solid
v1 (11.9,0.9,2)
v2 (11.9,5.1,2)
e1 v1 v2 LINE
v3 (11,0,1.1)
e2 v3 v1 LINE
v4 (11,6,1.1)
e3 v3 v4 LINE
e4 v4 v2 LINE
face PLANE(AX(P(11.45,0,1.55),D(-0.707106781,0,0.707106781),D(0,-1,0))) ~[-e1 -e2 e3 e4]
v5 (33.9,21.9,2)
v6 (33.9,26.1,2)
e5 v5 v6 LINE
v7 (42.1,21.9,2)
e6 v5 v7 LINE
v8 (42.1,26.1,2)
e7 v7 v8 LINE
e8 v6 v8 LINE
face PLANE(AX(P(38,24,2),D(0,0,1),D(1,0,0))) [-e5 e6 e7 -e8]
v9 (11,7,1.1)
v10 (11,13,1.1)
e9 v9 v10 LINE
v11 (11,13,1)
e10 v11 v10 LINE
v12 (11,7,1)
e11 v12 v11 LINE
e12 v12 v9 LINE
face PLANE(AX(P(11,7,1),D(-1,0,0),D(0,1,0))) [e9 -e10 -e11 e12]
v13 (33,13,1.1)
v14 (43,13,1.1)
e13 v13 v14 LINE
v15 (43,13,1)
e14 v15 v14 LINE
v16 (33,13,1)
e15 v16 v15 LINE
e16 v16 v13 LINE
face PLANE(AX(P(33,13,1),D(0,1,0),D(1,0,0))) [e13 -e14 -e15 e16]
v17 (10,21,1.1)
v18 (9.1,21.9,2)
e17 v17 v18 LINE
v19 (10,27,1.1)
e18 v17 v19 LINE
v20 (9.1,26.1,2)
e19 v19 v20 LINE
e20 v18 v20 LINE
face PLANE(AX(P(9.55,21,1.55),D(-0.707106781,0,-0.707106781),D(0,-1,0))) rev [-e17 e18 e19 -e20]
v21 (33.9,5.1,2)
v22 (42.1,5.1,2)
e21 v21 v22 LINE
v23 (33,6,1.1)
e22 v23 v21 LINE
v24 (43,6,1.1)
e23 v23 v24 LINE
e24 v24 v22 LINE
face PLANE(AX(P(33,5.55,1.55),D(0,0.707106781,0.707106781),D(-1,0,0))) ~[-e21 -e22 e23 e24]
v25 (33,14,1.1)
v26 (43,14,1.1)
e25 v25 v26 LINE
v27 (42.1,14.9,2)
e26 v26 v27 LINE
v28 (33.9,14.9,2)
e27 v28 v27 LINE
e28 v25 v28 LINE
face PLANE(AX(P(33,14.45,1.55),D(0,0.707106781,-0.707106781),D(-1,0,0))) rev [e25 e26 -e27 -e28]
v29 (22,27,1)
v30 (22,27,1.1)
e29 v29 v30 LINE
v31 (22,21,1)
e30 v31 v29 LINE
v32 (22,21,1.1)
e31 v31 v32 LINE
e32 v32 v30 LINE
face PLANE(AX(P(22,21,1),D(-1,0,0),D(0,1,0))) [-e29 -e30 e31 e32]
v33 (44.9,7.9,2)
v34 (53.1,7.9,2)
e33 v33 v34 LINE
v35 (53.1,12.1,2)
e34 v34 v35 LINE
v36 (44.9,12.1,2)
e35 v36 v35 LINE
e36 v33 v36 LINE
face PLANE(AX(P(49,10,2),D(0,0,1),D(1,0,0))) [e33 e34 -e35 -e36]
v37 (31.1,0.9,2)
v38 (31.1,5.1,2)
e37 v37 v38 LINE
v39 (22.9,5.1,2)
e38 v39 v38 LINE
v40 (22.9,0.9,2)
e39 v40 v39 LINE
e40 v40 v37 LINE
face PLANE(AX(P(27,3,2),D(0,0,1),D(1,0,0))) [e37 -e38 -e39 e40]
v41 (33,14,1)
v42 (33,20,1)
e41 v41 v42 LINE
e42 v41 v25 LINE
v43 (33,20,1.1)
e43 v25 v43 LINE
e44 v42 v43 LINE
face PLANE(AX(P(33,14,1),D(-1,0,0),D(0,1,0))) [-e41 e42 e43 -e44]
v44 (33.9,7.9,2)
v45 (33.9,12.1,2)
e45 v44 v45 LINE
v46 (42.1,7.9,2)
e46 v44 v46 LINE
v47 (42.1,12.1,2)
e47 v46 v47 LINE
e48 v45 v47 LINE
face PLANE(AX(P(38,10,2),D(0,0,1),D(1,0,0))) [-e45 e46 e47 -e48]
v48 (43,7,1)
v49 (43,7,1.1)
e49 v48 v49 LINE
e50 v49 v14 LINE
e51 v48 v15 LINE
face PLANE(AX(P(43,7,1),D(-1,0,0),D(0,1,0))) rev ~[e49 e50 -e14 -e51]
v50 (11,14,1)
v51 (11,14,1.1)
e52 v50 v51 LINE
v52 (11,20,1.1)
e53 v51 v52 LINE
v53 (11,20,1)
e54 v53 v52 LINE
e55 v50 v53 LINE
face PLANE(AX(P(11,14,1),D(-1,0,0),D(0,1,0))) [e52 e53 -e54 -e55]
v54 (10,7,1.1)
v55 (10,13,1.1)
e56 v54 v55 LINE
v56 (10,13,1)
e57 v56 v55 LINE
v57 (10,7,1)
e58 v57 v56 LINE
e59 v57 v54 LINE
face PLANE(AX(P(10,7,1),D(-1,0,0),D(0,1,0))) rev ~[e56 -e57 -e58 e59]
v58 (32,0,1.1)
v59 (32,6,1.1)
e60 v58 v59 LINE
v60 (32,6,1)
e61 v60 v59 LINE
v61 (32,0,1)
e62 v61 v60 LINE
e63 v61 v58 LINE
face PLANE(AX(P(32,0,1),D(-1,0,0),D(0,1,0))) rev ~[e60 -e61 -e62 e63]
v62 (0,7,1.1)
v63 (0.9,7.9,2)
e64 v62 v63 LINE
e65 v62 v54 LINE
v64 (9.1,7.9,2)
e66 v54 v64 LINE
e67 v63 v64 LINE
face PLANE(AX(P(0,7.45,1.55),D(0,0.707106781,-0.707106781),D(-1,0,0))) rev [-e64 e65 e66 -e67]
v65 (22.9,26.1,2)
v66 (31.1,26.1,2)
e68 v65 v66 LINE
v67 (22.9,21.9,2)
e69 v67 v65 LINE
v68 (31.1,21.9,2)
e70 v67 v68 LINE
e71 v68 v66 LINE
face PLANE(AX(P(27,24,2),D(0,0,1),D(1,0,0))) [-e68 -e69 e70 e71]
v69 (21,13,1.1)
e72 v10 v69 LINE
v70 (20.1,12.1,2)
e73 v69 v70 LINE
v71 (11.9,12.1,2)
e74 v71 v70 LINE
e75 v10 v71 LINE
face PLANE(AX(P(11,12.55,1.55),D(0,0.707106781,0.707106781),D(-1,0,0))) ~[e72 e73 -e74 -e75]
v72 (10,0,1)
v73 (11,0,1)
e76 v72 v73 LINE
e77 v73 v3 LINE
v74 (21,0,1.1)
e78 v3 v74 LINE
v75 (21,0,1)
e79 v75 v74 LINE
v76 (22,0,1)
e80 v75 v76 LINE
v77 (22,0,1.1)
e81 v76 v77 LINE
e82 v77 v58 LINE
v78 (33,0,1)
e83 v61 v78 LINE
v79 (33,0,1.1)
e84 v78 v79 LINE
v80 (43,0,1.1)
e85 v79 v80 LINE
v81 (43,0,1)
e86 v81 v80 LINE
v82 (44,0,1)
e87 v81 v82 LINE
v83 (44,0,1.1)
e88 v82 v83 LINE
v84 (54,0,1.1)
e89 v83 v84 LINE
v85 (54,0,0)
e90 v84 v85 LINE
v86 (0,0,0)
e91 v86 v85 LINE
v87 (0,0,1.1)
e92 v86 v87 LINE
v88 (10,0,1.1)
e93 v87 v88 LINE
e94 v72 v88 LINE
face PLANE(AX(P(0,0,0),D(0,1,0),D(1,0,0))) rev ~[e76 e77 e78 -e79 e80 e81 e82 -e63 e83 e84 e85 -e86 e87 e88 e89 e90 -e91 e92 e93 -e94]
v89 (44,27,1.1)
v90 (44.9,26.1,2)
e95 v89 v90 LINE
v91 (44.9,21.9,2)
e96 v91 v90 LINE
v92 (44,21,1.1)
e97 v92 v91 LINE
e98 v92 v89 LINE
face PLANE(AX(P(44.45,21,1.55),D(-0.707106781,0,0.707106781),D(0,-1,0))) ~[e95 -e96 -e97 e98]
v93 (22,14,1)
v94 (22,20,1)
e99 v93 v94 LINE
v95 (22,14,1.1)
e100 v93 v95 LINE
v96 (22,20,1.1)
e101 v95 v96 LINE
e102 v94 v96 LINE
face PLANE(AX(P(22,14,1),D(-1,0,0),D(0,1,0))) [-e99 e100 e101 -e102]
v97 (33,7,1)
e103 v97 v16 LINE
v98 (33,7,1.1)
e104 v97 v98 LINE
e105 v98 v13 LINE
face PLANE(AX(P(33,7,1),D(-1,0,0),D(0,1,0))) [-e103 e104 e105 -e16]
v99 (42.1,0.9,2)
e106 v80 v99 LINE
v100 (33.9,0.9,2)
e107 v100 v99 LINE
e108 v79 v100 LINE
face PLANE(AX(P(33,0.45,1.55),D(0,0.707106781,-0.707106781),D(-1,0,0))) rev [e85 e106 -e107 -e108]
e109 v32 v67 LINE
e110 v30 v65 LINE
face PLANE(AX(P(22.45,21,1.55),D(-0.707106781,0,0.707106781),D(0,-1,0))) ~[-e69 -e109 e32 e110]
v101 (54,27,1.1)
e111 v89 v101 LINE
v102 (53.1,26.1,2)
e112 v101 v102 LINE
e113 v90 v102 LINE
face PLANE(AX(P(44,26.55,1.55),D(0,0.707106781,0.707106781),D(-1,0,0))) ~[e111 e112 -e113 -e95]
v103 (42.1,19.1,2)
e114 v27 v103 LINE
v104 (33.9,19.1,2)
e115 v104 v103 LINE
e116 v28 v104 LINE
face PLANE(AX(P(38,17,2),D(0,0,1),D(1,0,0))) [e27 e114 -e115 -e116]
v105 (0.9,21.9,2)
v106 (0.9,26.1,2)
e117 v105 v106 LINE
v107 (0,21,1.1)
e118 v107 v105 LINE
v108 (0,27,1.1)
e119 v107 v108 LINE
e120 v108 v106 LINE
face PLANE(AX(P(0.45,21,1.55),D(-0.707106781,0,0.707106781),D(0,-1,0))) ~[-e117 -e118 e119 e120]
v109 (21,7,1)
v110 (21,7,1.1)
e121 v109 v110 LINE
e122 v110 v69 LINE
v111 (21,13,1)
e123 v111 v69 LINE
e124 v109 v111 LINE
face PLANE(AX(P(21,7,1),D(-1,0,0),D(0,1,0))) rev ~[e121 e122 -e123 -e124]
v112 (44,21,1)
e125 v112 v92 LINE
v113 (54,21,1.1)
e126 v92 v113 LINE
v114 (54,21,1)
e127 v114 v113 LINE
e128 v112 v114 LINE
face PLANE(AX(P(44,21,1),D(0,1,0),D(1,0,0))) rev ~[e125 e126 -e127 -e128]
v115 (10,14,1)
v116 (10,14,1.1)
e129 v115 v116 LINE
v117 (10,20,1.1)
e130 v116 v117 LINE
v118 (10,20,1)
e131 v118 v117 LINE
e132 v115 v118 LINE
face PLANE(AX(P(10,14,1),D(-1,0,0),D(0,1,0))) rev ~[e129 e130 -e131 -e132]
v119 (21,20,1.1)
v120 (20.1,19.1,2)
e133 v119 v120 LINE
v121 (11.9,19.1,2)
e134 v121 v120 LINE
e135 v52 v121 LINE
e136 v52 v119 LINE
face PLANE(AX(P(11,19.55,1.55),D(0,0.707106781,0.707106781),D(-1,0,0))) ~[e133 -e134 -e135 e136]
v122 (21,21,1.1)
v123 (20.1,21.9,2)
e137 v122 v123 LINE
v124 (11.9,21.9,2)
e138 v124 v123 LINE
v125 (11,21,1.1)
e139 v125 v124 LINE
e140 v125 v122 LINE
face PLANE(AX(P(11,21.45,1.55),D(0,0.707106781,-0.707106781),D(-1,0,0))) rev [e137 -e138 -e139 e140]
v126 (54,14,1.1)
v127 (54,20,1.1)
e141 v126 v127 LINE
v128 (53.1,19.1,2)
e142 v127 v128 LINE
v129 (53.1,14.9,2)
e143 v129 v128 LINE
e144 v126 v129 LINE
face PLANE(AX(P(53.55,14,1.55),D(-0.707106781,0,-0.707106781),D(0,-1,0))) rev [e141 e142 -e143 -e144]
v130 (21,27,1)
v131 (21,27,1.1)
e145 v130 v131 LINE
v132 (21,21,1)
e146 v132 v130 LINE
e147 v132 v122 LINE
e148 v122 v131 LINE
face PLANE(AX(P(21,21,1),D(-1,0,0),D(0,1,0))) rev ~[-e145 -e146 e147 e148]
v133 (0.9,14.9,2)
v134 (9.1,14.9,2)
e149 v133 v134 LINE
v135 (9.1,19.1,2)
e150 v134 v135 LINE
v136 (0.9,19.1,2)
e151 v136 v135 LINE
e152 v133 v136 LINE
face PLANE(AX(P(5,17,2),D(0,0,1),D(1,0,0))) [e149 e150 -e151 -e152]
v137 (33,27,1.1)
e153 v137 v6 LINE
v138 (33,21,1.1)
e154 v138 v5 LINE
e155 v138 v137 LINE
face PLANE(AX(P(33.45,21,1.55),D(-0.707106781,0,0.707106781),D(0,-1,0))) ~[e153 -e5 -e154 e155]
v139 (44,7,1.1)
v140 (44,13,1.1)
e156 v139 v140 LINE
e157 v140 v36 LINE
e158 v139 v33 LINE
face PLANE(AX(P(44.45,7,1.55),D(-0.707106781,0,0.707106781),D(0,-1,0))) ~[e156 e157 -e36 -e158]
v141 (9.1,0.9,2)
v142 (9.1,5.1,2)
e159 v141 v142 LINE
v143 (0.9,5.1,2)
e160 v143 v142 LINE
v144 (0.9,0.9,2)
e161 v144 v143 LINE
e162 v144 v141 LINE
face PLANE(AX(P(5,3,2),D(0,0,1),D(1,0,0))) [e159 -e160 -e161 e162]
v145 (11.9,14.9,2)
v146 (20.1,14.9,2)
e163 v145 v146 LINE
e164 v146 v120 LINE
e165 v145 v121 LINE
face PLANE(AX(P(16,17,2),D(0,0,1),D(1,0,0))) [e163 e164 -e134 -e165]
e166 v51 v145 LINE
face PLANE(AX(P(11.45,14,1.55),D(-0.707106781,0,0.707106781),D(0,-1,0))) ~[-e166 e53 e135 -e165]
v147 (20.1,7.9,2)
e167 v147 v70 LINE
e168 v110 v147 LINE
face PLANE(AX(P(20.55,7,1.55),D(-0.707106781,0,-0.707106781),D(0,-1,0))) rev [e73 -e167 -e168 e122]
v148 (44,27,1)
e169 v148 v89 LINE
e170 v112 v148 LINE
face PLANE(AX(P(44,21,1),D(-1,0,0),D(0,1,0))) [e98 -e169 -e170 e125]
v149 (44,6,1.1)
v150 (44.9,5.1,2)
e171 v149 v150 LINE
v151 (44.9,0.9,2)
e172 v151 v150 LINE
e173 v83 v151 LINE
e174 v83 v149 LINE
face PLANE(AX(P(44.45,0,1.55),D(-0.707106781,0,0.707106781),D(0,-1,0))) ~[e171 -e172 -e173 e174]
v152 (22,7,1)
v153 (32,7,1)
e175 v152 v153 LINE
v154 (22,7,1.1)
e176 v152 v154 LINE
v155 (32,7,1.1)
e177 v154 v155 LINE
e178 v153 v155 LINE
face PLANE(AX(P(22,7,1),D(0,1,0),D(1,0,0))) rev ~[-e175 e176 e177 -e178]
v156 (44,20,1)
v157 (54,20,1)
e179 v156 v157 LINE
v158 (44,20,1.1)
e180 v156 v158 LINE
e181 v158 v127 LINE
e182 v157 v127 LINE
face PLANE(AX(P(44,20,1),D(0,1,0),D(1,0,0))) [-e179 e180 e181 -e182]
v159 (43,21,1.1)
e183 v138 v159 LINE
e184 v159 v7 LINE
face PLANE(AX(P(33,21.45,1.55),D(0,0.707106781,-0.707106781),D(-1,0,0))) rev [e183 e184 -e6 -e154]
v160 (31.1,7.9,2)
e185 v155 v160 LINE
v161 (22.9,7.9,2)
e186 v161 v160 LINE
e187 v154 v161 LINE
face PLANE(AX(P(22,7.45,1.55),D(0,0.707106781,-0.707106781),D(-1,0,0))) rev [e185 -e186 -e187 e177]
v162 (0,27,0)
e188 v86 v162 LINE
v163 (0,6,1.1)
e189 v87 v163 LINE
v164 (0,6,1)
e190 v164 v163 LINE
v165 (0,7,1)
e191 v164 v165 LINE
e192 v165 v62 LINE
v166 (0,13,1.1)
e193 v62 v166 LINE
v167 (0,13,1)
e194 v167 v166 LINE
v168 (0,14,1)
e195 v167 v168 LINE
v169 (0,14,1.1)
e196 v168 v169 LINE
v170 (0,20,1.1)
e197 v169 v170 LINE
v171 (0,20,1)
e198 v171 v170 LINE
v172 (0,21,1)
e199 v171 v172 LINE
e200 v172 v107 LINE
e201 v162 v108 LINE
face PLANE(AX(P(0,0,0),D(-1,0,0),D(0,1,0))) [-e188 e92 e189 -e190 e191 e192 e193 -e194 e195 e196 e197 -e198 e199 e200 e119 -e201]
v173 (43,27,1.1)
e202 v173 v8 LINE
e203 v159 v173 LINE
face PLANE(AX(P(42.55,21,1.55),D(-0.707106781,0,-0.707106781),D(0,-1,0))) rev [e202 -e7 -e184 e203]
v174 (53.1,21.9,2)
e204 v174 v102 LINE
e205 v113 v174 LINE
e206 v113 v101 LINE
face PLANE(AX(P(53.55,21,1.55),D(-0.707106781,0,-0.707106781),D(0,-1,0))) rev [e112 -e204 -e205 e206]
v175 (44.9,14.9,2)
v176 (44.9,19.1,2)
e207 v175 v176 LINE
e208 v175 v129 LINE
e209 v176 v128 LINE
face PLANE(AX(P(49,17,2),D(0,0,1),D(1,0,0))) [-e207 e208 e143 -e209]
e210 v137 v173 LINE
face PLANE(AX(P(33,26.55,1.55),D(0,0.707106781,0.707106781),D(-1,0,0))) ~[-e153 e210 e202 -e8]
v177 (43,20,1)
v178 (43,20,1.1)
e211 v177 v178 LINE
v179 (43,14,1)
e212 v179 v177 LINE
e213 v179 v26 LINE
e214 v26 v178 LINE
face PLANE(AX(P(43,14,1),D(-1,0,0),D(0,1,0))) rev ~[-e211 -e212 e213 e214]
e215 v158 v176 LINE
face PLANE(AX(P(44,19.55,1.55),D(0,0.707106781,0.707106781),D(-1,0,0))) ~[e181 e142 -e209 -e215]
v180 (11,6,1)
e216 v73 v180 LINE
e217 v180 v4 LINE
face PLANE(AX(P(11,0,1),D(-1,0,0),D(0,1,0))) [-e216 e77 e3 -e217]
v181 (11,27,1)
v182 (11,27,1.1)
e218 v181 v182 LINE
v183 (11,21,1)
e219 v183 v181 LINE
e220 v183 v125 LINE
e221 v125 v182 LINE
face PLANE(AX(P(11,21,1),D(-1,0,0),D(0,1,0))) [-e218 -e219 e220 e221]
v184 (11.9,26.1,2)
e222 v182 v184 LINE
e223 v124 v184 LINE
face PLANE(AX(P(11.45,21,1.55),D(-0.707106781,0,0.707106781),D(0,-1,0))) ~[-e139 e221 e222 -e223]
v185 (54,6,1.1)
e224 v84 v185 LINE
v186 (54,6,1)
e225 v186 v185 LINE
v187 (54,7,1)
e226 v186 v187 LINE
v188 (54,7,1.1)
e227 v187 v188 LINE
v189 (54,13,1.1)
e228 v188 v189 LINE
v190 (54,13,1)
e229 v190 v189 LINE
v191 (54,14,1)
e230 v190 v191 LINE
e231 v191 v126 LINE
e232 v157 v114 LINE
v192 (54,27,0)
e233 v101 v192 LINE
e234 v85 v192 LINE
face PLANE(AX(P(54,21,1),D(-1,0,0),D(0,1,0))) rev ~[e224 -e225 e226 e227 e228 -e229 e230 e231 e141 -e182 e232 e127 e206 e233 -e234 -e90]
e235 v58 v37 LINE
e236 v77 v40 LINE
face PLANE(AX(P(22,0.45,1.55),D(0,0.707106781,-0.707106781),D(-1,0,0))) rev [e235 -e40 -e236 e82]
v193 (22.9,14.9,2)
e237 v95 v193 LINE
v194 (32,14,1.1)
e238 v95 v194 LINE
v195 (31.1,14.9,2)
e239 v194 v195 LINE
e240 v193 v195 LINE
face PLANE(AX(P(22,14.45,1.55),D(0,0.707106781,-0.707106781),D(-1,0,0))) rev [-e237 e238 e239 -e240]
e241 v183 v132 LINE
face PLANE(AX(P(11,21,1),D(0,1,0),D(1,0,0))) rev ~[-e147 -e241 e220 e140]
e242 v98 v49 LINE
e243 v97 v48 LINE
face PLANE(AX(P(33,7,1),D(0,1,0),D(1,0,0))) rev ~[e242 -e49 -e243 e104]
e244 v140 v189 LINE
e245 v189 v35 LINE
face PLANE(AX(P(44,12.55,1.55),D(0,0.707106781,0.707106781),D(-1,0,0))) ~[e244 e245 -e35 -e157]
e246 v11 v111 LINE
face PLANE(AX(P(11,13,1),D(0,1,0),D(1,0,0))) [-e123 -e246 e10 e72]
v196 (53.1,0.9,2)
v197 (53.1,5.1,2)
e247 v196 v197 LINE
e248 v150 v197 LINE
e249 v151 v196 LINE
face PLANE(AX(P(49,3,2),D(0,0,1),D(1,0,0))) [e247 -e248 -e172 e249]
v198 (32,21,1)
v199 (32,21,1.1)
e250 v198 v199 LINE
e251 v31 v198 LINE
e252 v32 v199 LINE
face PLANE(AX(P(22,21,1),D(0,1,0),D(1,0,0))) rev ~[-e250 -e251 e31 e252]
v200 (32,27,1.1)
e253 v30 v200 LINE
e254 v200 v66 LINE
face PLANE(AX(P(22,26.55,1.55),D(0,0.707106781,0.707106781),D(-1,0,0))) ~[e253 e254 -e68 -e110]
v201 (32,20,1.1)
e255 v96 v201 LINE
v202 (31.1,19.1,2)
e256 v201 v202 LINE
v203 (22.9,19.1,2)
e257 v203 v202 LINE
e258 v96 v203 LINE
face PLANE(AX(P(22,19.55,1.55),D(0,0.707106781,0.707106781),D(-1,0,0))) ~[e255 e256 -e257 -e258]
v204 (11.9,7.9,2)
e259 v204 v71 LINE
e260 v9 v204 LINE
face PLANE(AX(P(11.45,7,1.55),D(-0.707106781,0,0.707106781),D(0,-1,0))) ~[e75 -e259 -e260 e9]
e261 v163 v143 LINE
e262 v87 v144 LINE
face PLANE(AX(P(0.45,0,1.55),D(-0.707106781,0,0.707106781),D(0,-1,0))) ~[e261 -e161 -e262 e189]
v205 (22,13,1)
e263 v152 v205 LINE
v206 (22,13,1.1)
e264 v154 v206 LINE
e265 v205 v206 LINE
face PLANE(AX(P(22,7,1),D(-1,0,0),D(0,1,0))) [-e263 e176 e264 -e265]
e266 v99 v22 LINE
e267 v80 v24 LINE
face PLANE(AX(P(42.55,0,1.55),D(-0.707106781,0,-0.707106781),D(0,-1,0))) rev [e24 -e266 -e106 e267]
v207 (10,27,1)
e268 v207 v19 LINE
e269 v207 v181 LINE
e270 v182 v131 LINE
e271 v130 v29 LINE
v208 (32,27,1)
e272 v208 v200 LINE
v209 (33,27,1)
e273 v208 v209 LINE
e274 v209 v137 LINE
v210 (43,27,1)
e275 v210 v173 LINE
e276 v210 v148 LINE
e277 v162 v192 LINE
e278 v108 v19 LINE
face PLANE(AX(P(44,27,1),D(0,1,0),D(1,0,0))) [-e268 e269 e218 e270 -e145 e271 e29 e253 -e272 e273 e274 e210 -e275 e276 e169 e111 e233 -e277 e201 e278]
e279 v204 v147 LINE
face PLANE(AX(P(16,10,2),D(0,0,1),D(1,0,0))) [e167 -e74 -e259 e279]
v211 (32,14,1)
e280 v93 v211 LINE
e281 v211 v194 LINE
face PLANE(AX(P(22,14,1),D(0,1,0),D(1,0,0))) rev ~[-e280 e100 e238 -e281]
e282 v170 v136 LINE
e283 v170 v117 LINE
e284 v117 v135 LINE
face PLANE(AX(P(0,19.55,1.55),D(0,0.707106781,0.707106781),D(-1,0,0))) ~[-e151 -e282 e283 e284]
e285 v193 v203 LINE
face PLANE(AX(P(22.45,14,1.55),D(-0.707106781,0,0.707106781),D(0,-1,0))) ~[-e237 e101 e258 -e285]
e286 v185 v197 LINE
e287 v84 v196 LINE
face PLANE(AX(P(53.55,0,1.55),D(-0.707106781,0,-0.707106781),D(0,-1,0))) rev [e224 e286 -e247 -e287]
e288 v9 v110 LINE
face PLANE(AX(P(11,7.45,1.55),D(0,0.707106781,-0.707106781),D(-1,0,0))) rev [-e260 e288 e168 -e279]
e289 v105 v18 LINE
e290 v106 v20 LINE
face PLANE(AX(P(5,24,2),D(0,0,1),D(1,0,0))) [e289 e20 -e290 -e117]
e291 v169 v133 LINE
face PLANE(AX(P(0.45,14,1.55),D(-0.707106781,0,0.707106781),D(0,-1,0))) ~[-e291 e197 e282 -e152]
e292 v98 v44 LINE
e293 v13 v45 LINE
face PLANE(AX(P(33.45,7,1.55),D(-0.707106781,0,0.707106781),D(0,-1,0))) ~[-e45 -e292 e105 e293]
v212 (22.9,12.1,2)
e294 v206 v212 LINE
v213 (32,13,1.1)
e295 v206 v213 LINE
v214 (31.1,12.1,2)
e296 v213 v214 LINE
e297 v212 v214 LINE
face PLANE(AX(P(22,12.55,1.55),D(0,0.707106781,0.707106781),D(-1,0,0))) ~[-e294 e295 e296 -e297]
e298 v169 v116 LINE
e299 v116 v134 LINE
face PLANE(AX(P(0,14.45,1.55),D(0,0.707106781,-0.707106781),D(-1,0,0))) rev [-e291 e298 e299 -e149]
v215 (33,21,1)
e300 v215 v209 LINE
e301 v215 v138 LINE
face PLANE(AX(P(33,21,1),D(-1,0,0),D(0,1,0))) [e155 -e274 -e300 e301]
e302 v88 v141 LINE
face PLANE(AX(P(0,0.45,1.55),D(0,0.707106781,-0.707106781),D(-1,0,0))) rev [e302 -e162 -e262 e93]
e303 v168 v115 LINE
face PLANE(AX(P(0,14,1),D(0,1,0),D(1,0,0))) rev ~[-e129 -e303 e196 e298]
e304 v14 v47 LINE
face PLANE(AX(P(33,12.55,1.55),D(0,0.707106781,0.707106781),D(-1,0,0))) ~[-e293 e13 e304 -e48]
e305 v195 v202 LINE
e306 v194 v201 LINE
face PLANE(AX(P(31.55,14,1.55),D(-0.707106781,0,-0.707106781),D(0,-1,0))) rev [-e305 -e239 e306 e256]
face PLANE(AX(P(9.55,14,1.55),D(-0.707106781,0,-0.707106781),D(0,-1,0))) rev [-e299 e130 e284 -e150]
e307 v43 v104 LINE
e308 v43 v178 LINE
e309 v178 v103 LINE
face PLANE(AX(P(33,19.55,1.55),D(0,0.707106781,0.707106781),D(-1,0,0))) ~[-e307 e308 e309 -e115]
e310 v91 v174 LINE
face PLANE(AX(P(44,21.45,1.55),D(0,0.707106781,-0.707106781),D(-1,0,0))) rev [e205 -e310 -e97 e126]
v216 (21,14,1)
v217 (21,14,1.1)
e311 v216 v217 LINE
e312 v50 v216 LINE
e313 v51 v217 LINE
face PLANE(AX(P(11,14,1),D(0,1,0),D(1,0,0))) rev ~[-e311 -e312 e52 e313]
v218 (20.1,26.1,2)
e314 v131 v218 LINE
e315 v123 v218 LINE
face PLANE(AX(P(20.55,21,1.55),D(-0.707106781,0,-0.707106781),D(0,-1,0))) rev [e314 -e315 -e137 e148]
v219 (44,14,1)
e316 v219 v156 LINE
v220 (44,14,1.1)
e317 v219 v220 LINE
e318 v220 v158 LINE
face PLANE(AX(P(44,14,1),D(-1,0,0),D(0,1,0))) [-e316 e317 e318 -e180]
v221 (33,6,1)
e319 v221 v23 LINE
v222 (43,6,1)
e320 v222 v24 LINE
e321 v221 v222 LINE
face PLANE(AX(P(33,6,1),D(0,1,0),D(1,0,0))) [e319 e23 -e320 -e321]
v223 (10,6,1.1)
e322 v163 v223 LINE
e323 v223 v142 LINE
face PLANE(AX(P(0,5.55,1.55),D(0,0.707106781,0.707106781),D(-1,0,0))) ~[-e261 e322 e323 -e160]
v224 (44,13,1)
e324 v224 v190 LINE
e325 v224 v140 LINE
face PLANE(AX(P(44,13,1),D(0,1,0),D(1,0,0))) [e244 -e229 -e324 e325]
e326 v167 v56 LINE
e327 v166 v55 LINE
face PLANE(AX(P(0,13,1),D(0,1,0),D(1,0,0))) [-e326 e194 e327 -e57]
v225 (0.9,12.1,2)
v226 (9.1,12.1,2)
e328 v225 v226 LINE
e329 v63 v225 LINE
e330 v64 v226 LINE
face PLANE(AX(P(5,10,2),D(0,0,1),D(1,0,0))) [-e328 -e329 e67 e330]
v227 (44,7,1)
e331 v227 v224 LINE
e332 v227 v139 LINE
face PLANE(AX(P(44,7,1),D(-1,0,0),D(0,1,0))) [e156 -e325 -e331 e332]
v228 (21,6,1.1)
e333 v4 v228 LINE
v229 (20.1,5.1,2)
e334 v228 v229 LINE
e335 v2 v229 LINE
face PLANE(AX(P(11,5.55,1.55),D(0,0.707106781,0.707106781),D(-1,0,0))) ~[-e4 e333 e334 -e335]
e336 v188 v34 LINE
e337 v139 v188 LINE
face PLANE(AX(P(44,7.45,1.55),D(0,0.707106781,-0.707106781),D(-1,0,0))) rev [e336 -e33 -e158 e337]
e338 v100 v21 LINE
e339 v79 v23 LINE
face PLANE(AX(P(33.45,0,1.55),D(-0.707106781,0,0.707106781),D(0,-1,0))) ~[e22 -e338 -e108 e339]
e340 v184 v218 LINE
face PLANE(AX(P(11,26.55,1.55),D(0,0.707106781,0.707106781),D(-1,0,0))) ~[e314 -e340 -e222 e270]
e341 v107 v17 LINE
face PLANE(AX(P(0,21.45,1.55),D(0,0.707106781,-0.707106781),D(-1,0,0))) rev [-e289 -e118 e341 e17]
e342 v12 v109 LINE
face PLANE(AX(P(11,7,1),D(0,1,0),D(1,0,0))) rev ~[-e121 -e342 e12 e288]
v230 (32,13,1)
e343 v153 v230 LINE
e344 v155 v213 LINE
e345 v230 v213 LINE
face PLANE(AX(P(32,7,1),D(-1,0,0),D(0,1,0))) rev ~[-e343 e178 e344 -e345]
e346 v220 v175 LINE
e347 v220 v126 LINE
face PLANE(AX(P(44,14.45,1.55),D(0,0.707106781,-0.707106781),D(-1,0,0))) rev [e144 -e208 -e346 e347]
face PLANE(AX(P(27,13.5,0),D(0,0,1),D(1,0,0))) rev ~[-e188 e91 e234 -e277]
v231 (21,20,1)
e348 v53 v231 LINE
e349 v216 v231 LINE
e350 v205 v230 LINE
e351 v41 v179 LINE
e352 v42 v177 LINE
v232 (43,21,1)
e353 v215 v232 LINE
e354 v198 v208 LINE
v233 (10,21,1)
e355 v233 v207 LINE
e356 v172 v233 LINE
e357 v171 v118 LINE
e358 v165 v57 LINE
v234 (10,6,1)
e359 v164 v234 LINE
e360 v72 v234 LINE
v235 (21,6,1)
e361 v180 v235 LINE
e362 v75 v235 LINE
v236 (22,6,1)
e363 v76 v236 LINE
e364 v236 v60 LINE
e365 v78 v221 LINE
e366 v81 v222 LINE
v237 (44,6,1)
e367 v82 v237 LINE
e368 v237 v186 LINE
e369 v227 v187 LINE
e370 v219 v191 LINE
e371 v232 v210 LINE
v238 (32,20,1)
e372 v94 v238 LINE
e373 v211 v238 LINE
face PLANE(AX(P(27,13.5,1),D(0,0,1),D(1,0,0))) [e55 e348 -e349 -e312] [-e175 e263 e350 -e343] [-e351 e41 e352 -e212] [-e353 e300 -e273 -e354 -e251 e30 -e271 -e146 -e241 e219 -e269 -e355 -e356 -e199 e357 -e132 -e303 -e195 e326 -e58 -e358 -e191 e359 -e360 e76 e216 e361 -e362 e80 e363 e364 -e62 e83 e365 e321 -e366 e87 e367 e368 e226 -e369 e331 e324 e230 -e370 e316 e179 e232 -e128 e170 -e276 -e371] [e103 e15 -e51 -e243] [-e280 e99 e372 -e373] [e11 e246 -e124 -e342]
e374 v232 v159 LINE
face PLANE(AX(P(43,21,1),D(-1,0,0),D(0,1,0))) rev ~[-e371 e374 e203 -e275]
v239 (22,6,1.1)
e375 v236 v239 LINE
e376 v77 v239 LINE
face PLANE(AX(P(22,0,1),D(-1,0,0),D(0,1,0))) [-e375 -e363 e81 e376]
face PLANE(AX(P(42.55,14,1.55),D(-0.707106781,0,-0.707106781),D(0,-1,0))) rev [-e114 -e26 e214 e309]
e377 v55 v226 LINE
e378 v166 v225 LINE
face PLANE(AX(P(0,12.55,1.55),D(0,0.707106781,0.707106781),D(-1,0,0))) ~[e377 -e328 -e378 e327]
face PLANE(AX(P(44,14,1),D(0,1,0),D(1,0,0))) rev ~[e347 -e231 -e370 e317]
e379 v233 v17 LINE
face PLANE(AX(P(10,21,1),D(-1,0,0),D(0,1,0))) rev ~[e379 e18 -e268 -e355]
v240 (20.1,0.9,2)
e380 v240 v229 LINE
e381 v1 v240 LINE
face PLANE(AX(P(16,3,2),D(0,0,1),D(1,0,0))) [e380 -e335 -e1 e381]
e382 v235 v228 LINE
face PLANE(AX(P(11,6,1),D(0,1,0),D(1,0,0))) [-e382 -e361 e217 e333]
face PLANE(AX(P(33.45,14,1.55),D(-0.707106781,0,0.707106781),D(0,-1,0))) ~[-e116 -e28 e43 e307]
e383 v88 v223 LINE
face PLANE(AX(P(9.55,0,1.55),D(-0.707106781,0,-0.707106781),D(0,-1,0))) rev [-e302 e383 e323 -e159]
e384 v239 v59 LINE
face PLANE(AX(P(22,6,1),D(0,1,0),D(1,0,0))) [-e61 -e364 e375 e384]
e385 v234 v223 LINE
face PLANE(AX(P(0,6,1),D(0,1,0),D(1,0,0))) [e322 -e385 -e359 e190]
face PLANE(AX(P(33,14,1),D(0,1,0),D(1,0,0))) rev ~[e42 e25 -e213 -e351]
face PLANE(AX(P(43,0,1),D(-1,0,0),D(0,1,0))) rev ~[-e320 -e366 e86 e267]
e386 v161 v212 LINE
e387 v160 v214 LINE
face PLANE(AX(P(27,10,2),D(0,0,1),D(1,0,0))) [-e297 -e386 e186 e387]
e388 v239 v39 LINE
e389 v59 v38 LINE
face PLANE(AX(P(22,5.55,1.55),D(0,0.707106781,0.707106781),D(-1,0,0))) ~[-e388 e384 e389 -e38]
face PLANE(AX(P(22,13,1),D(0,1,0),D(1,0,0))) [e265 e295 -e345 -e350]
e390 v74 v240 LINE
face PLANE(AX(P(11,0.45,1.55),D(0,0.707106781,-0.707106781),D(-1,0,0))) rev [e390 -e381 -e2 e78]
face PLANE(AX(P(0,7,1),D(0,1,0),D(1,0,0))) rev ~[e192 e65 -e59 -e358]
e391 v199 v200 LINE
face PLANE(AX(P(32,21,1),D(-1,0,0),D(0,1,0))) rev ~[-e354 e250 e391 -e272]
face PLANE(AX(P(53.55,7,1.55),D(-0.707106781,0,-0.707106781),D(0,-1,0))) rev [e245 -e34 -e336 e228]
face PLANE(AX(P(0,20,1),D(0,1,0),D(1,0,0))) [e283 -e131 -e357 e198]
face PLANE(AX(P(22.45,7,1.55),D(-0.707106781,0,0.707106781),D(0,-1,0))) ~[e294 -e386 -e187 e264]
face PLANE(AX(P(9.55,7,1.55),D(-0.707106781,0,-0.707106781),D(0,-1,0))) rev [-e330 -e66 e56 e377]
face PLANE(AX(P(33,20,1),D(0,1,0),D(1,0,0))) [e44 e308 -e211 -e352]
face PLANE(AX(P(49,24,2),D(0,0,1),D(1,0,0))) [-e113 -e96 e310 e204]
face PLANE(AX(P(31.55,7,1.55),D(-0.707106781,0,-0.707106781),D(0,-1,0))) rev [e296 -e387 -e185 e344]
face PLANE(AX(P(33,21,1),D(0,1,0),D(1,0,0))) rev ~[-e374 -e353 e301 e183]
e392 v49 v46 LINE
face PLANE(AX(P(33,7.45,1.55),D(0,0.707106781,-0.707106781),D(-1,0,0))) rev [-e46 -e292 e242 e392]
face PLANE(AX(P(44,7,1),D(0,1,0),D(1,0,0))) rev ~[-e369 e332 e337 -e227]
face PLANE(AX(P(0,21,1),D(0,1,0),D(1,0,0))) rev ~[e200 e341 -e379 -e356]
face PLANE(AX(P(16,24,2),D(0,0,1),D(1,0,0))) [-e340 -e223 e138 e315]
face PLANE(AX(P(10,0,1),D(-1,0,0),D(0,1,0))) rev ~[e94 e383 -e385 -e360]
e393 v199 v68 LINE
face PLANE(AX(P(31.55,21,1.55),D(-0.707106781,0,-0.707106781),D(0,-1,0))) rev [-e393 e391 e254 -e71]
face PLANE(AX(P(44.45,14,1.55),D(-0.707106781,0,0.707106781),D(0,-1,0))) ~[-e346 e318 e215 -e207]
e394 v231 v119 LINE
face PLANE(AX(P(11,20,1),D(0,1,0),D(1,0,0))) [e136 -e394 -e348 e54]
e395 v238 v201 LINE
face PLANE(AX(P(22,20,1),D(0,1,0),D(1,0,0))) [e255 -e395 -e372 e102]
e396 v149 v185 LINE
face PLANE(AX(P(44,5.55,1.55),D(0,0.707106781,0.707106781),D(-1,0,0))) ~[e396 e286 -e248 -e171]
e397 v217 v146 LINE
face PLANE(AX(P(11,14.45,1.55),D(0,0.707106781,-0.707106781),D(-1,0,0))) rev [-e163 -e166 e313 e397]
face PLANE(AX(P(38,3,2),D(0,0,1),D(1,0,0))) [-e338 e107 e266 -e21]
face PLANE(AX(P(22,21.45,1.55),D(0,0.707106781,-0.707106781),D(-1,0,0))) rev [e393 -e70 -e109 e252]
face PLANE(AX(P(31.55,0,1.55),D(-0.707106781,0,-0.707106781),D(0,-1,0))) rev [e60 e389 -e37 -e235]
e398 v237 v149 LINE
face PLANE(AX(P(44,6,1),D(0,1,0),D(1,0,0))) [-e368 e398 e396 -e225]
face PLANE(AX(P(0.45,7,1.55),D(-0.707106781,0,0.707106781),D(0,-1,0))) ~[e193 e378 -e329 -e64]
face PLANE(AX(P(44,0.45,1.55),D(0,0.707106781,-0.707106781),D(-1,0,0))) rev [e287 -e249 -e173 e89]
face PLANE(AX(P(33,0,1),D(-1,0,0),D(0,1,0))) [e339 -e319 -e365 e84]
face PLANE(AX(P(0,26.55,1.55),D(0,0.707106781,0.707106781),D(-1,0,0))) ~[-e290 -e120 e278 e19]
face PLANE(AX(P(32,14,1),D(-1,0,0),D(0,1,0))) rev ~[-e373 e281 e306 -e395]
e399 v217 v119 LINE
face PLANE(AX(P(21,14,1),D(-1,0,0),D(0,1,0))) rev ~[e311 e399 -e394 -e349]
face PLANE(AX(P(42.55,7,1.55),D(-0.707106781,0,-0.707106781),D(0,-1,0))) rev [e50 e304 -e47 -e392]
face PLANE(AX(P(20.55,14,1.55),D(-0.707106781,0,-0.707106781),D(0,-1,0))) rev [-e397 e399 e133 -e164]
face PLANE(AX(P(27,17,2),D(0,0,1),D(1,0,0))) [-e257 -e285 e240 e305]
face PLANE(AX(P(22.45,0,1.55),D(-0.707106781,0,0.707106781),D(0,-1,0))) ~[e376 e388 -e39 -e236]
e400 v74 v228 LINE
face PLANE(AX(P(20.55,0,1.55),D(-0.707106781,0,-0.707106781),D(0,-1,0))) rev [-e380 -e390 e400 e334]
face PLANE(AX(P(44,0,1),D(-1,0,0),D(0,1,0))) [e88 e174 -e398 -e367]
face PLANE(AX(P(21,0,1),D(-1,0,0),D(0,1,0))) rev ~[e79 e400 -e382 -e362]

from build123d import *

# Parameters (mm, degrees)
BOX001_W      = 10
BOX001_H      = 6
BOX001_DEPTH  = 1
CHAMFER_SIZE  = 0.9
ARRAY_X_COUNT = 5
ARRAY_X_PITCH = 11
ARRAY_Y_COUNT = 4
ARRAY_Y_PITCH = 7
BOX_W         = 54
BOX_H         = 27
BOX_DEPTH     = 1


with BuildPart() as array:
    # Box001 → Box001 (new body)
    with BuildSketch(Plane.XY.offset(1)):
        with Locations((5, 3)):
            Rectangle(BOX001_W, BOX001_H)
    extrude(amount=BOX001_DEPTH)

    # Chamfer
    chamfer_edges = [array.edges().sort_by_distance(p)[0] for p in [
        (0, 3, 2),
        (10, 3, 2),
        (5, 0, 2),
        (5, 6, 2),
    ]]
    chamfer(chamfer_edges, length=CHAMFER_SIZE)

    # Array X: Array ×5


with BuildPart() as array_1:
    add(array.part)
    with Locations(*[(i * ARRAY_X_PITCH, 0, 0) for i in range(1, ARRAY_X_COUNT)]):
        add(array.part)

    # Array Y: Array ×4


with BuildPart() as array_2:
    add(array_1.part)
    with Locations(*[(0, i * ARRAY_Y_PITCH, 0) for i in range(1, ARRAY_Y_COUNT)]):
        add(array_1.part)


with BuildPart() as fusion:
    # Box → Box (new body)
    with BuildSketch(Plane.XY):
        with Locations((27, 13.5)):
            Rectangle(BOX_W, BOX_H)
    extrude(amount=BOX_DEPTH)

    # Fusion: union Array
    add(array_2.part)


solid = fusion.part
